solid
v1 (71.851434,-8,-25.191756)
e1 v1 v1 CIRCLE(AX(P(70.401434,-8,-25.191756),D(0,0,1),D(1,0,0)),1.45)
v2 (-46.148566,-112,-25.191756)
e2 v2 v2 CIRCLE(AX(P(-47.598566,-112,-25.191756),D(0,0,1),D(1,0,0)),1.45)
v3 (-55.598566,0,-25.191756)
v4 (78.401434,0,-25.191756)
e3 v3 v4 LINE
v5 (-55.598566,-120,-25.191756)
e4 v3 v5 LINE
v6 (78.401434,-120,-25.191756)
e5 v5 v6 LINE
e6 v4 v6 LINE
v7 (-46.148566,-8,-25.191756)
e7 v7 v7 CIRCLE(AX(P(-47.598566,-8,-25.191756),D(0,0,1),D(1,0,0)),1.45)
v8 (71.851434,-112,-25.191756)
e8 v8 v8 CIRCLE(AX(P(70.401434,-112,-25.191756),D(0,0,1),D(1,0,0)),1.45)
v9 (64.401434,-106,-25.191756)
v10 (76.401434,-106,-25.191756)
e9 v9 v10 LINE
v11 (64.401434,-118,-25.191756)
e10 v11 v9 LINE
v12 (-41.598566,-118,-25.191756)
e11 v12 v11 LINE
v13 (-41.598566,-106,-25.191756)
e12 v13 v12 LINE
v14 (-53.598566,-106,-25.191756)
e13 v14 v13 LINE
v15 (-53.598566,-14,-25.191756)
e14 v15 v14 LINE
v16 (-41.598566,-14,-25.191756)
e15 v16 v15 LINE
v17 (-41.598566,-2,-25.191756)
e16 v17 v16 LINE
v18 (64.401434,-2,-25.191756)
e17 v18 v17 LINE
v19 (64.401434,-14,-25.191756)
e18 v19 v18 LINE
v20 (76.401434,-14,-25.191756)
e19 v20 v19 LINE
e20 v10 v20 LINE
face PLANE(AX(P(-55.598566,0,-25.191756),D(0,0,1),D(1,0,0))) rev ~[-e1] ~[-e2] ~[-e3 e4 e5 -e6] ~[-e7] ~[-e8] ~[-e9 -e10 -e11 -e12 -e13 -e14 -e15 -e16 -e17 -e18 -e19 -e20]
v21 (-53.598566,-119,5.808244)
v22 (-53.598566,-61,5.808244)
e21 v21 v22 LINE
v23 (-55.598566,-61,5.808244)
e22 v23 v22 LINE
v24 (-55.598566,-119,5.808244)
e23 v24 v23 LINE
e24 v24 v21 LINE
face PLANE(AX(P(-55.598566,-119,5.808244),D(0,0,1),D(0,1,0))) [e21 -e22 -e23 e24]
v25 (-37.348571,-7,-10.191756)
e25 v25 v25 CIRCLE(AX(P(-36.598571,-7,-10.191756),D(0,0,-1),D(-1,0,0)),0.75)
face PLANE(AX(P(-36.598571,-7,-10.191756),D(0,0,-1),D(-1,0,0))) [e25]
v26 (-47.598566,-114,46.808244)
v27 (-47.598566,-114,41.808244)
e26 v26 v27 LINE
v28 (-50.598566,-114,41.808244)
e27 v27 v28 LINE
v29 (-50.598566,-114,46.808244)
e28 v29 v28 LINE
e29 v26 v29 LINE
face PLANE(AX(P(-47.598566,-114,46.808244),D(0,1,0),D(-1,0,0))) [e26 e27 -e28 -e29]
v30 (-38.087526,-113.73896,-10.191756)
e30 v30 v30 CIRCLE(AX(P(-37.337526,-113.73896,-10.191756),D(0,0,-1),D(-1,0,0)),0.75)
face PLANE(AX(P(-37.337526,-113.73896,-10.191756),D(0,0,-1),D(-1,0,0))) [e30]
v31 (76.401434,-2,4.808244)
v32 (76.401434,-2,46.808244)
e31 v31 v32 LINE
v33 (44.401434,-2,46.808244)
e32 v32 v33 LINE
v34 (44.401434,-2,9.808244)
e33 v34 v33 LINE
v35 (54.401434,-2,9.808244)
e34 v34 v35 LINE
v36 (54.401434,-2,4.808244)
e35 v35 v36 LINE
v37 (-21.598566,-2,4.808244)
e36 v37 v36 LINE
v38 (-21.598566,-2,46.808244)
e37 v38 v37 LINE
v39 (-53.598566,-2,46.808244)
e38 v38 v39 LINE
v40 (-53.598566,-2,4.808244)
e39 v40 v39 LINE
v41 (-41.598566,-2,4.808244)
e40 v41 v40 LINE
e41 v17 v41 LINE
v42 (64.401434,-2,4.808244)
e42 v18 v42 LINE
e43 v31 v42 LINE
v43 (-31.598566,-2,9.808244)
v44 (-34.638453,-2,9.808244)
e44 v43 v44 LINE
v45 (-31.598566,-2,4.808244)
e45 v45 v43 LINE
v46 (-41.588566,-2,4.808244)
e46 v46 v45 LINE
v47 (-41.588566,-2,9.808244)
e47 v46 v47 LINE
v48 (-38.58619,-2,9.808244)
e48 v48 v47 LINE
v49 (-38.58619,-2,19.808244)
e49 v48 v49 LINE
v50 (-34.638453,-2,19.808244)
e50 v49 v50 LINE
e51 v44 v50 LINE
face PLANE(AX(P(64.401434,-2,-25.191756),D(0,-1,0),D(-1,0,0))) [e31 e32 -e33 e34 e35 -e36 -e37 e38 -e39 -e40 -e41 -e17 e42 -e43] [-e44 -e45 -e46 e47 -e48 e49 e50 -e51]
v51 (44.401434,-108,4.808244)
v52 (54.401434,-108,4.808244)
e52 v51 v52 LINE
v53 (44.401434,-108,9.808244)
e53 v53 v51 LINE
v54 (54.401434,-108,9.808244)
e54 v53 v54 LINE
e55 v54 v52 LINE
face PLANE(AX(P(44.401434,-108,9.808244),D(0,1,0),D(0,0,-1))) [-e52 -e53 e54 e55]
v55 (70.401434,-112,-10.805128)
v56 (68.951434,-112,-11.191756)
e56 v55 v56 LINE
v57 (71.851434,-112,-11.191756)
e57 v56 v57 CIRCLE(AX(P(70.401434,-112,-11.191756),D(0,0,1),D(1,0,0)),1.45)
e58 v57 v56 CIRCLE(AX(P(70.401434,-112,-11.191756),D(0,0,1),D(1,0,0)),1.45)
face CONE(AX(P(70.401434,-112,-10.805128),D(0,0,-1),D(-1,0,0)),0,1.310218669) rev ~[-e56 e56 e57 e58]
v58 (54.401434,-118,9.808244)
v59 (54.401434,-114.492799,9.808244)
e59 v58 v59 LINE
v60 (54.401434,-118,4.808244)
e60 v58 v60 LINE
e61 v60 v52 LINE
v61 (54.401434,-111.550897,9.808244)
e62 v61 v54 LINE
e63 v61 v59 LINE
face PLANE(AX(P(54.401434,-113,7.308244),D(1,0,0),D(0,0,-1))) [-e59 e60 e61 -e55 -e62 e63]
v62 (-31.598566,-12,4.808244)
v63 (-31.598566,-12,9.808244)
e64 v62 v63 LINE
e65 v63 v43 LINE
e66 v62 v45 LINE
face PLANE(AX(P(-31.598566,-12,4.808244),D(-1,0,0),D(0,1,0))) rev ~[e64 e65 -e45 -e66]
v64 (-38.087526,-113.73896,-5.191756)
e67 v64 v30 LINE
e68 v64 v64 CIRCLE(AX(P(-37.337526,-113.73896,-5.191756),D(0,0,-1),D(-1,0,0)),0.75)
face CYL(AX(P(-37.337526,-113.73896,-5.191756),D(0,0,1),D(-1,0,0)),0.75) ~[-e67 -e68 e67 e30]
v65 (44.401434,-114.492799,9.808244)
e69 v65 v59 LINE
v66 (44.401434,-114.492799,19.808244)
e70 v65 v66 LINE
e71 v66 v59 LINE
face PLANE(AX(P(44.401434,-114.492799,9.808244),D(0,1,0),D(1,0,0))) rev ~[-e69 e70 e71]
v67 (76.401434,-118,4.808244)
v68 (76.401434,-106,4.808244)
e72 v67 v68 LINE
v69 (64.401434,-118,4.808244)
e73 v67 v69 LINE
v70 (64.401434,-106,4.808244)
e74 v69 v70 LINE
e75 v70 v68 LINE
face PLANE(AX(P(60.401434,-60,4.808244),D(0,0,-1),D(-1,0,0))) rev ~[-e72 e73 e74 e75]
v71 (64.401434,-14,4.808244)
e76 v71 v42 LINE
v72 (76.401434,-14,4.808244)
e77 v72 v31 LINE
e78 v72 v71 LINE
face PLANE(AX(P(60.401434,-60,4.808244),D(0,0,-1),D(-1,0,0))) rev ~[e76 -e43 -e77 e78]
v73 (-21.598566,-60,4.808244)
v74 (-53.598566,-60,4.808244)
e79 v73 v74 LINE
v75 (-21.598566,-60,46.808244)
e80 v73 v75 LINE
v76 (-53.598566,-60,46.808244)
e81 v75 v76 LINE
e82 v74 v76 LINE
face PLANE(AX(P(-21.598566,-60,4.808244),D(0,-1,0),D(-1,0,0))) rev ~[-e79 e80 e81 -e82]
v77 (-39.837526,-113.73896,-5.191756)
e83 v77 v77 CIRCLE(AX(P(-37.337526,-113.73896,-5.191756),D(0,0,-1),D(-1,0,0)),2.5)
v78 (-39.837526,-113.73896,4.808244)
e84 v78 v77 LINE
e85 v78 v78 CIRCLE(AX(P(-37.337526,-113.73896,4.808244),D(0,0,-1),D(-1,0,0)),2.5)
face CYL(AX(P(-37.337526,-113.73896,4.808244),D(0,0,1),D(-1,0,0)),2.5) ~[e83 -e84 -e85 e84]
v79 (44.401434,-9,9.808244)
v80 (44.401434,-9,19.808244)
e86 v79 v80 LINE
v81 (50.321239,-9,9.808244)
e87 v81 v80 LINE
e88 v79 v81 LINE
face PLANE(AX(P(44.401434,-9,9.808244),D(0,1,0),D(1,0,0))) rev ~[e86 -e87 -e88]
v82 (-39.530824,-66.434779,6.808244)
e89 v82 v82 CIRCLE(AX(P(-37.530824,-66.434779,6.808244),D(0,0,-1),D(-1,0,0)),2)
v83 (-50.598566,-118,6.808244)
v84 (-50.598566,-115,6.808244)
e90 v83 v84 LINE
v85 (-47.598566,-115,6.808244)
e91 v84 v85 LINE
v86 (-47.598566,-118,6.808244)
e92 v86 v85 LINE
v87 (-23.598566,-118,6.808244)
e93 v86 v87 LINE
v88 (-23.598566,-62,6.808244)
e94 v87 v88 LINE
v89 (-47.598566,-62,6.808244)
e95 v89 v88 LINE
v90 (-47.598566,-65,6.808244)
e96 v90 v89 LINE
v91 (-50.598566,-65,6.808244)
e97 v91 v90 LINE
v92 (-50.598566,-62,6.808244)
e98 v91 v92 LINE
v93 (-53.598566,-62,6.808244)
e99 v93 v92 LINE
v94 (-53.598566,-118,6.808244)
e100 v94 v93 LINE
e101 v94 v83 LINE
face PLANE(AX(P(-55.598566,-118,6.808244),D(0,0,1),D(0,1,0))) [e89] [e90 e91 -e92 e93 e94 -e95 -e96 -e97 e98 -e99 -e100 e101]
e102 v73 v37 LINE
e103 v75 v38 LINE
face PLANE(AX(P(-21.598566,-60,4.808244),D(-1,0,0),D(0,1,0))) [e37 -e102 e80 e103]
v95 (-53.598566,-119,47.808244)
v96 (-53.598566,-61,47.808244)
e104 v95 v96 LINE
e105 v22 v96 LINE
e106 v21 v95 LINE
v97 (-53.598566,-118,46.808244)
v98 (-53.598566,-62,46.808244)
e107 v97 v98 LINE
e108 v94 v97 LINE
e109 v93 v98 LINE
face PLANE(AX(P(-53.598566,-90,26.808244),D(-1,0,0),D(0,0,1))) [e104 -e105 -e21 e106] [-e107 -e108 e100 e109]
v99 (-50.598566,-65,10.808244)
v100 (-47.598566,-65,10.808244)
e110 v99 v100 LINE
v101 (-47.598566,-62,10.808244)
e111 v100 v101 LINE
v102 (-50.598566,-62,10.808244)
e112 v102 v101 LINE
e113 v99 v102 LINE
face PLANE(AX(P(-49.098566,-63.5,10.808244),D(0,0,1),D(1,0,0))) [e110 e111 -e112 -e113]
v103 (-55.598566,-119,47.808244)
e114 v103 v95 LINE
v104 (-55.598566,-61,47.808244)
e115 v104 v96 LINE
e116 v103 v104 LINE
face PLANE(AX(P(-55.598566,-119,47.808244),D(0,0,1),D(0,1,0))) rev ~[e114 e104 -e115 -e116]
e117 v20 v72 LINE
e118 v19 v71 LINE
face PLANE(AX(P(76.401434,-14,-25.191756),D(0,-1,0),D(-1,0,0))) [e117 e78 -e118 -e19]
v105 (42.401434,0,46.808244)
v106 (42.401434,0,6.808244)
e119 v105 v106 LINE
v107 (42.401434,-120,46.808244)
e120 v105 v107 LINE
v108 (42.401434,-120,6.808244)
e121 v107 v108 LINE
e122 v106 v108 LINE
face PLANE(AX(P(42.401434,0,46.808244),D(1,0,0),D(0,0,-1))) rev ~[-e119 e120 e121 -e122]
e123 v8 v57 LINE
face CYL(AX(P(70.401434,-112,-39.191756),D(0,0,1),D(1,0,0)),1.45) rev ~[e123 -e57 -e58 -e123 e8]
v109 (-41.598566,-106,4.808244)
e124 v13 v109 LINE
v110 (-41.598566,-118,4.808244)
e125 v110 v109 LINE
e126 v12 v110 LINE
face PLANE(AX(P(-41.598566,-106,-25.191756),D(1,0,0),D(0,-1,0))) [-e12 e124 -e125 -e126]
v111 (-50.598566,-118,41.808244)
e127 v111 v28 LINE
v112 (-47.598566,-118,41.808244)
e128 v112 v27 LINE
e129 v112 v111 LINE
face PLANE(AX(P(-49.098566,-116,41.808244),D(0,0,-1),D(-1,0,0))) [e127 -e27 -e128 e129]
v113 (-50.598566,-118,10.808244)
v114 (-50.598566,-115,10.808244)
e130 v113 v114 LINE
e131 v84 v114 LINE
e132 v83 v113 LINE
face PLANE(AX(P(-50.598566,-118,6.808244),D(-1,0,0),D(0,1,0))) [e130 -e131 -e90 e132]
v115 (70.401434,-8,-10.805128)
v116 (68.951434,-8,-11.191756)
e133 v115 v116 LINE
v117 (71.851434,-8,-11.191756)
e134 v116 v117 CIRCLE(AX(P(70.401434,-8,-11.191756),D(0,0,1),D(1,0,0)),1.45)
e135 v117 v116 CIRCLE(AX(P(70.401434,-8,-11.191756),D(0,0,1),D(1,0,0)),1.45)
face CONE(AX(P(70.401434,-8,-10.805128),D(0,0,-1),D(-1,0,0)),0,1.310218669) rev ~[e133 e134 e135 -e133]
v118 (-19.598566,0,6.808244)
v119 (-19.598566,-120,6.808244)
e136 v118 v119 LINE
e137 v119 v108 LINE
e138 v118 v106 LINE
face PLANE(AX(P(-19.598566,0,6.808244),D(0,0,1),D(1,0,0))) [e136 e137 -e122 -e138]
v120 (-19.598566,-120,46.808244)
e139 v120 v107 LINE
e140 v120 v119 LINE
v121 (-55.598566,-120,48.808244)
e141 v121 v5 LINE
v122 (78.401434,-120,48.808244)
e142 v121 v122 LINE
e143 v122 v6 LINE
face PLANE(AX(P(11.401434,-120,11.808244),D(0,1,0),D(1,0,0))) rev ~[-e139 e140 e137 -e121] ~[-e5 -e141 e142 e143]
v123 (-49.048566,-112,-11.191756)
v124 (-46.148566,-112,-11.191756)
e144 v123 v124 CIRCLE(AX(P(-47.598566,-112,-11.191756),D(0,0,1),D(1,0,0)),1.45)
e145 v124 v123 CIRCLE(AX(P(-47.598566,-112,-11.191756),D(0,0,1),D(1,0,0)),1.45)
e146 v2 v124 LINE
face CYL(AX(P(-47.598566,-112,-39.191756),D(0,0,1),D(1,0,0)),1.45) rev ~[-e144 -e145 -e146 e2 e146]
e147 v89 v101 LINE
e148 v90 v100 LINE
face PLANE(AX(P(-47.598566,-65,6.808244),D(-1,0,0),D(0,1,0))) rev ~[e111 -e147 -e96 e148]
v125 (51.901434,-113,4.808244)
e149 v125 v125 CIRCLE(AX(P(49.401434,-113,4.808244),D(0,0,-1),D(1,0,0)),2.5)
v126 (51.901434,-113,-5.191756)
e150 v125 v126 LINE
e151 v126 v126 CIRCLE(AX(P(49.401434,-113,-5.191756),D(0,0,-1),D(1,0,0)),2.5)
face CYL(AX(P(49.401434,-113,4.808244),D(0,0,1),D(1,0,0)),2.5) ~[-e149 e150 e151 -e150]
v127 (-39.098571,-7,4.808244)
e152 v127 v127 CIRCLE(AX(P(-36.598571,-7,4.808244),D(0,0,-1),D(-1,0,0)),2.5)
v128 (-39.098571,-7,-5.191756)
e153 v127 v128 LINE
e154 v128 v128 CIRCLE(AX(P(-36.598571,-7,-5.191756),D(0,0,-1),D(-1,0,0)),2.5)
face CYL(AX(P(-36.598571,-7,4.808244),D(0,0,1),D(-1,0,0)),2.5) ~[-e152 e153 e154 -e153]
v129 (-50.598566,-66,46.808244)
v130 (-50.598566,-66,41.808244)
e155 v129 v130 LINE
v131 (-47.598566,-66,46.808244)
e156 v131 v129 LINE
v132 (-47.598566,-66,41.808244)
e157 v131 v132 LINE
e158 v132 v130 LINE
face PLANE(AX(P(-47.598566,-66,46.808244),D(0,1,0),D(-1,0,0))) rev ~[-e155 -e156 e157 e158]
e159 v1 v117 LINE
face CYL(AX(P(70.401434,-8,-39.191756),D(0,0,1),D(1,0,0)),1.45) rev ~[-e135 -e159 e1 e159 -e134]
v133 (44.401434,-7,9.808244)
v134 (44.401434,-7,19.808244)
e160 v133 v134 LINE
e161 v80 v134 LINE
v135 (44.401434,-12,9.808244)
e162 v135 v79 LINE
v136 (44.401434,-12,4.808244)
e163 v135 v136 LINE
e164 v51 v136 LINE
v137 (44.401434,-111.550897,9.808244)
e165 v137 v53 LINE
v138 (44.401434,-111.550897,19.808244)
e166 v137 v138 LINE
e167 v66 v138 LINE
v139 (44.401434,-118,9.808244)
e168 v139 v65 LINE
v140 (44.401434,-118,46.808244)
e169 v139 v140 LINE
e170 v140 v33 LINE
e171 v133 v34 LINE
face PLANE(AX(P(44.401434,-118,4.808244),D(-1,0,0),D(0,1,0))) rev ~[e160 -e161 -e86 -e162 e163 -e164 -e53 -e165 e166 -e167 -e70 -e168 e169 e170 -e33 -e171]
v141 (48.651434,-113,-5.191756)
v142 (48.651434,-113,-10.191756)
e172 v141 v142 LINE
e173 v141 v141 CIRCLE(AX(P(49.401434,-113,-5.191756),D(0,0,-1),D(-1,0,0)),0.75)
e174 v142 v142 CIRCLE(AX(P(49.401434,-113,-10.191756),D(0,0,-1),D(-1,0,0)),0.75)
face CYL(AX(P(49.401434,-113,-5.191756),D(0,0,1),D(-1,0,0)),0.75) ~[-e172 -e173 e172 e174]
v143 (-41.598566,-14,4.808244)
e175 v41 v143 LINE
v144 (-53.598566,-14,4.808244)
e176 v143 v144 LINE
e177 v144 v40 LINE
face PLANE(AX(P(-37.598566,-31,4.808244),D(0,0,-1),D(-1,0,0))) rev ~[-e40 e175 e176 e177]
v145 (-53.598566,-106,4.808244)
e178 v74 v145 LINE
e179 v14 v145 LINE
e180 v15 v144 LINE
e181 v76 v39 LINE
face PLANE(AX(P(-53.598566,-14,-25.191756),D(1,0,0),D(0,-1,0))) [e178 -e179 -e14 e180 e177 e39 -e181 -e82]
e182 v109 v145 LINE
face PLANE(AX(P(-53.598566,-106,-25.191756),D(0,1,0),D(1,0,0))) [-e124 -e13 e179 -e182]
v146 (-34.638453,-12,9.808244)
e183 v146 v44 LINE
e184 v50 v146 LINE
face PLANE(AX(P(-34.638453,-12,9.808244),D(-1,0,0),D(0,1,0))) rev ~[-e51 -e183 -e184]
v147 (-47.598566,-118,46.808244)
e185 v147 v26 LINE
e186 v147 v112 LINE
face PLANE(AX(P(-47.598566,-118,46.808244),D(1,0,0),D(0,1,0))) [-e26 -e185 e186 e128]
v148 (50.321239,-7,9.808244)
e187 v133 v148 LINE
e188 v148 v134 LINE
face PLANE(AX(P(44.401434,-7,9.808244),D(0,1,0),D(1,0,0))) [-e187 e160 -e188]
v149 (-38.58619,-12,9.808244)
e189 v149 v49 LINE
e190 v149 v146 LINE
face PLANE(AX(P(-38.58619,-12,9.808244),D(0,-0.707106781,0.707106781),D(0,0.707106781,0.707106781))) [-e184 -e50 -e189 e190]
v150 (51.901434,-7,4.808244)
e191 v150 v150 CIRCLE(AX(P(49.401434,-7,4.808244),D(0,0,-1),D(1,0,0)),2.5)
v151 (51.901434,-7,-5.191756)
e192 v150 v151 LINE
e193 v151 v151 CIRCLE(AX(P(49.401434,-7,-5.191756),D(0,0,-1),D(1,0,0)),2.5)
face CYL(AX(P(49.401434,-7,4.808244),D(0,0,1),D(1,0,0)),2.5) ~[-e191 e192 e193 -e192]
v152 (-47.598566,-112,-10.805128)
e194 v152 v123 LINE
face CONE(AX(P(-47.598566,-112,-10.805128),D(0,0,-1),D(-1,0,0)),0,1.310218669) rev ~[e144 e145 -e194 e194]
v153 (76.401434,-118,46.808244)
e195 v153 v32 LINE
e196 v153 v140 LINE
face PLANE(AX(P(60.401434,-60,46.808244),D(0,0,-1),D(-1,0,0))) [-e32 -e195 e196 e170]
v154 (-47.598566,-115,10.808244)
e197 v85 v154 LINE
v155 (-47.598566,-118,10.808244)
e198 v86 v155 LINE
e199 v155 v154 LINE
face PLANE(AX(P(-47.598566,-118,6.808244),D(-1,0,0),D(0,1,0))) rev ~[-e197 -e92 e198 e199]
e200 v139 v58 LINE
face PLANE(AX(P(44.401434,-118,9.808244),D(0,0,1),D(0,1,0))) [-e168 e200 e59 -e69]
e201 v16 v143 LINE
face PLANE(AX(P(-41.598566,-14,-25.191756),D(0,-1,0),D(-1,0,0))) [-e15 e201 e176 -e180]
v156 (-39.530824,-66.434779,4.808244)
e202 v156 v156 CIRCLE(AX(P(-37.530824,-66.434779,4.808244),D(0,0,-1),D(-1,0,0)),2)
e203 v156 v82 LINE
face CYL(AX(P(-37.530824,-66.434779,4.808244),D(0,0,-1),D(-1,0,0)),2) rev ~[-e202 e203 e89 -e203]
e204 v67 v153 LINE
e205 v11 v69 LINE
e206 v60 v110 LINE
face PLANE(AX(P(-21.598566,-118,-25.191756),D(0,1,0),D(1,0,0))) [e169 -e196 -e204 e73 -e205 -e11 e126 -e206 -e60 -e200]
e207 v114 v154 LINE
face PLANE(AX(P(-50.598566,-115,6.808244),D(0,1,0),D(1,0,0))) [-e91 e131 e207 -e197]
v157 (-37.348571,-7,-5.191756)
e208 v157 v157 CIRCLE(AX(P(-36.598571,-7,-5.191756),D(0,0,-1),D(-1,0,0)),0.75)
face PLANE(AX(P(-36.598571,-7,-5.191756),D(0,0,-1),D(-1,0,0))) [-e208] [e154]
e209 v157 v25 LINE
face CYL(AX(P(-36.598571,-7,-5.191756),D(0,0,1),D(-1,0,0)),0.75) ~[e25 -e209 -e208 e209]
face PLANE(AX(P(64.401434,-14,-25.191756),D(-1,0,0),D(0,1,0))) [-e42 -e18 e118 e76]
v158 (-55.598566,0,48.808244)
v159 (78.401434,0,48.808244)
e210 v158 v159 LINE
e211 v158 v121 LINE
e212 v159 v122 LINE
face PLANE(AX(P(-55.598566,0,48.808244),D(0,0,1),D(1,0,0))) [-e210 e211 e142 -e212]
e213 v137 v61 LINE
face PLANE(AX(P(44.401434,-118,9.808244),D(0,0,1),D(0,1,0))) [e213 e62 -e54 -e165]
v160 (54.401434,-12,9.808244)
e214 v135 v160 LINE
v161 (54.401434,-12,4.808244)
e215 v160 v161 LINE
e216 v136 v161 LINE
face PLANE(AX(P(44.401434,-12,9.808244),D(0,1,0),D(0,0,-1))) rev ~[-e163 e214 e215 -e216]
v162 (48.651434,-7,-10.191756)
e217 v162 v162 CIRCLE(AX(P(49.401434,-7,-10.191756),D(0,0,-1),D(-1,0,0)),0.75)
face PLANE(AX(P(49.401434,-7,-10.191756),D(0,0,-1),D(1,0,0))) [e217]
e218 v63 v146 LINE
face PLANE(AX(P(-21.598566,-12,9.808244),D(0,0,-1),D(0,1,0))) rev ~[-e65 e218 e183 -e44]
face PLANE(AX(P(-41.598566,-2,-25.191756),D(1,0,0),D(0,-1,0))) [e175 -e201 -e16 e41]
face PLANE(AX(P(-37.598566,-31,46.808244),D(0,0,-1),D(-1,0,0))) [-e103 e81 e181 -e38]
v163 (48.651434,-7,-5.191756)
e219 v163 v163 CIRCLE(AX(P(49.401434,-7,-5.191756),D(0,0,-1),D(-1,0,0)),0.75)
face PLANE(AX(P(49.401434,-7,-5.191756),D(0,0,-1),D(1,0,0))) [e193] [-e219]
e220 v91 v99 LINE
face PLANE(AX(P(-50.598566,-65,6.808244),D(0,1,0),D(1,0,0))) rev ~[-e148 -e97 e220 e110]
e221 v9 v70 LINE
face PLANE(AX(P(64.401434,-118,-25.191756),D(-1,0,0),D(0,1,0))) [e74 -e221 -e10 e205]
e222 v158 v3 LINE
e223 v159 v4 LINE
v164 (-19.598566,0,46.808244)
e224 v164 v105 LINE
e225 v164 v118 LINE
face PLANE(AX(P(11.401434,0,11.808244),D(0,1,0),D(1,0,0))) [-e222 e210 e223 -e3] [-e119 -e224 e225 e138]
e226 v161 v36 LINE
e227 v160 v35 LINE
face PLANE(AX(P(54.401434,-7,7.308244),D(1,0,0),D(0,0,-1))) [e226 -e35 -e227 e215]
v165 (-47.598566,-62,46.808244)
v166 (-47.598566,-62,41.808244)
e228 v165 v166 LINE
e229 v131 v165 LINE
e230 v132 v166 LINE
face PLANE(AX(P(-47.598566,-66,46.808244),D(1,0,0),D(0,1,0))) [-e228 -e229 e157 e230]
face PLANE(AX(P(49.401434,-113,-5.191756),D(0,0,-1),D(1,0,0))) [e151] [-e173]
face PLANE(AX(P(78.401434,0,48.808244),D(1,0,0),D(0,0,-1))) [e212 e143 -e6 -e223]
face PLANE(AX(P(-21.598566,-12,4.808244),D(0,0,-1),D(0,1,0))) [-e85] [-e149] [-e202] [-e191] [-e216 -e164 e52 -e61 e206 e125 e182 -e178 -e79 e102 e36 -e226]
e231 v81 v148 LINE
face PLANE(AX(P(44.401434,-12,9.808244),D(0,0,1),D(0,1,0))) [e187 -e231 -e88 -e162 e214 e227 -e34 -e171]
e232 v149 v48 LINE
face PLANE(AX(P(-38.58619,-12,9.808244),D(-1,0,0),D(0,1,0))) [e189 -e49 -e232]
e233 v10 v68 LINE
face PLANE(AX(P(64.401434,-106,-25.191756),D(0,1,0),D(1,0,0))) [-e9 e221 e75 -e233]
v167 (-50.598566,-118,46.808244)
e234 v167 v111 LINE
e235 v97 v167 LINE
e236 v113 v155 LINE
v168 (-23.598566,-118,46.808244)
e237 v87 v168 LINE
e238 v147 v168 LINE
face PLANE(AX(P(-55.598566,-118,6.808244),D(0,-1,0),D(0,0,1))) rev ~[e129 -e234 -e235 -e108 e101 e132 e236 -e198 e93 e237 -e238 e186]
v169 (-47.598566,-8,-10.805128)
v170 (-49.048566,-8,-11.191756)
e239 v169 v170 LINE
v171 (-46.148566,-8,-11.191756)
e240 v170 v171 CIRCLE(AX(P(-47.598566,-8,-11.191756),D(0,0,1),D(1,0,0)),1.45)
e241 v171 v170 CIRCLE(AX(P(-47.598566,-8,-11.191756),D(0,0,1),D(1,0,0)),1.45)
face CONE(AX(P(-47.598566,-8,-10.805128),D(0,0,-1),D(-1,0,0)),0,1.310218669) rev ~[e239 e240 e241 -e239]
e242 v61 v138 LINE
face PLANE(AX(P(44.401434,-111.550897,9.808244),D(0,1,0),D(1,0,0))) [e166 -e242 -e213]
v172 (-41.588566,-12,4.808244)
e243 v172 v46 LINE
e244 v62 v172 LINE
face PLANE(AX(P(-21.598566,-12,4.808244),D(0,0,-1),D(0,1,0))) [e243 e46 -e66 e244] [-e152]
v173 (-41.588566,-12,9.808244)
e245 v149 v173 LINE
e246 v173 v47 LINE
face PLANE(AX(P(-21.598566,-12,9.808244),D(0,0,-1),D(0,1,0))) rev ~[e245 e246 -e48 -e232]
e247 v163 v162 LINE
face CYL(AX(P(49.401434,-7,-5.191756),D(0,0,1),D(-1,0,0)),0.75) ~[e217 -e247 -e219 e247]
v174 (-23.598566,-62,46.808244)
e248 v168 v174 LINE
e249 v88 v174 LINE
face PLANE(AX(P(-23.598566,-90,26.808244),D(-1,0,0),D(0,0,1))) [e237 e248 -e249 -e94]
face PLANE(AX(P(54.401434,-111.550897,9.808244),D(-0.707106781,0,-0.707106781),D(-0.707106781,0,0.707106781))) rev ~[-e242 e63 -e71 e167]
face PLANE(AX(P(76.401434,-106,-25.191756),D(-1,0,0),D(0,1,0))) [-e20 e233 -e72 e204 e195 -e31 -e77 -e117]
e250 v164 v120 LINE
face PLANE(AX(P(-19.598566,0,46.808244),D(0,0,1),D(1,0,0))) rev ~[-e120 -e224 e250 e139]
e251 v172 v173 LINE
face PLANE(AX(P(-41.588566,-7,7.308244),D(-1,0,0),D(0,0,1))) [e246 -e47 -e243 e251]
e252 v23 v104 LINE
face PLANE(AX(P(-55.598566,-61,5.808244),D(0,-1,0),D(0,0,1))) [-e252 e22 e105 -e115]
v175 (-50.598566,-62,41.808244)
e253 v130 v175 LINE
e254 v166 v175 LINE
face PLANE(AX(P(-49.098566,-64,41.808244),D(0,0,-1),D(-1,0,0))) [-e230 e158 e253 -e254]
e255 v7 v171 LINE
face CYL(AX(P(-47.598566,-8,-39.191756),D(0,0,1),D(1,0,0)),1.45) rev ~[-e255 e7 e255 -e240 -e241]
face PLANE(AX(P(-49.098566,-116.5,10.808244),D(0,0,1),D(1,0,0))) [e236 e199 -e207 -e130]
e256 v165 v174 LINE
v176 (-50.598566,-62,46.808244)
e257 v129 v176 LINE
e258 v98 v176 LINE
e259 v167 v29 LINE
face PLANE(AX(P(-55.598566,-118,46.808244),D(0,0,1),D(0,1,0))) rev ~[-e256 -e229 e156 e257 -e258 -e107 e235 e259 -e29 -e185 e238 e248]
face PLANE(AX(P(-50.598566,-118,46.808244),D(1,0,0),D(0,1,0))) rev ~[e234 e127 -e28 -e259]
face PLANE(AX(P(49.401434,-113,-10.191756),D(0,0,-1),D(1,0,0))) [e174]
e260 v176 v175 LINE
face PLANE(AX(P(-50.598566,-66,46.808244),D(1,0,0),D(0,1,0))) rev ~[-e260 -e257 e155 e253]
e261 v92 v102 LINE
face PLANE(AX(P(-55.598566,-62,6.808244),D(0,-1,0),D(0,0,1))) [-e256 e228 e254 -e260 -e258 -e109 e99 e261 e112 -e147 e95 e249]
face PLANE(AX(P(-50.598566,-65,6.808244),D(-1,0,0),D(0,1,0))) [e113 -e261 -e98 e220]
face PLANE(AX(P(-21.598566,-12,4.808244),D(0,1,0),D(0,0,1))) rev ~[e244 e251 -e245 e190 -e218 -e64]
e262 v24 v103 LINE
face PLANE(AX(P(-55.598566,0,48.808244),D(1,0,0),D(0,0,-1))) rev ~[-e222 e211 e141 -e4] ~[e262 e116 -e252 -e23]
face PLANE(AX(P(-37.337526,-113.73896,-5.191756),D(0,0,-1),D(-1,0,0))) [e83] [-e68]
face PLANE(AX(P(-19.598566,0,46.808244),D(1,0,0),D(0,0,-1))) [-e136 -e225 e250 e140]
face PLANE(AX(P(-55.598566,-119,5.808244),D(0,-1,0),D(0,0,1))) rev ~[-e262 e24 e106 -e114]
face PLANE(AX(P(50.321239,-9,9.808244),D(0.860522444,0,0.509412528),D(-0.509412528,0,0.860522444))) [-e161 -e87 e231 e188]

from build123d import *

# Parameters (mm, degrees)
SKETCH1_W                      = 134
SKETCH1_H                      = 74
SKETCH1_W_2                    = 62
SKETCH1_H_2                    = 40
BOSS_EXTRUDE1_DEPTH            = 120
CUT_EXTRUDE1_DEPTH             = 30
SKETCH4_W                      = 32
SKETCH4_H                      = 58
CUT_EXTRUDE2_DEPTH             = 42
SKETCH5_W                      = 32
SKETCH5_H                      = 116
CUT_EXTRUDE3_DEPTH             = 42
M2_5_CLEARANCE_HOLE1_D         = 2.9
M2_5_CLEARANCE_HOLE1_DEPTH     = 14
M2_5_CLEARANCE_HOLE1_TIP       = 0.386628252
SKETCH9_W                      = 40
SKETCH9_H                      = 56
CUT_EXTRUDE9_DEPTH             = 32
CUT_EXTRUDE5_DEPTH             = 20
CUT_EXTRUDE6_DEPTH             = 10
SKETCH12_W                     = 5
SKETCH12_H                     = 10
BOSS_EXTRUDE2_DEPTH            = 10
SKETCH13_R                     = 2.5
BOSS_EXTRUDE4_DEPTH            = 15
SKETCH14_W                     = 5
SKETCH14_H                     = 10
BOSS_EXTRUDE3_DEPTH            = 19.99
SKETCH17_W                     = 10
SKETCH17_H                     = 10
CUT_EXTRUDE10_DEPTH            = 5
SKETCH18_R                     = 2.5
BOSS_EXTRUDE5_DEPTH            = 15
CUT_EXTRUDE11_START            = -5
SKETCH19_R                     = 2.5
SKETCH19_R_2                   = 0.75
CUT_EXTRUDE11_DEPTH            = 5
SKETCH24_W                     = 5.919805253
SKETCH24_H                     = 2
BOSS_EXTRUDE6_DEPTH            = 10
CUT_EXTRUDE14_REACH            = 146.395
SKETCH26_W                     = 10
SKETCH26_H                     = 2.941902197
BOSS_EXTRUDE7_DEPTH            = 10
CUT_EXTRUDE15_REACH            = 146.819
SKETCH30_W                     = 3.947736589
SKETCH30_H                     = 10
BOSS_EXTRUDE8_DEPTH            = 10
CUT_EXTRUDE18_REACH            = 176.552
SKETCH33_W                     = 42
SKETCH33_H                     = 58
SKETCH33_W_2                   = 40
SKETCH33_H_2                   = 56
CUT_EXTRUDE20_DEPTH            = 2
CUT_EXTRUDE21_REACH            = 151.943
SKETCH34_R                     = 2
SKETCH36_W                     = 3
SKETCH36_H                     = 4
SUPORTE_DA_TAMPA_PILHA_DEPTH   = 5
SKETCH37_W                     = 3
SKETCH37_H                     = 3
SUPORTE_DA_TAMPA_2_PILHA_DEPTH = 4


with BuildPart() as part:
    # Sketch1 → Boss-Extrude1 (new body)
    with BuildSketch(Plane(origin=(0, 0, 0), x_dir=(1, 0, 0), z_dir=(0, 1, 0))):
        with Locations((11.401433692, -11.808243728)):
            Rectangle(SKETCH1_W, SKETCH1_H)
        with Locations((11.401433692, -26.808243728)):
            Rectangle(SKETCH1_W_2, SKETCH1_H_2, mode=Mode.SUBTRACT)
    extrude(amount=-BOSS_EXTRUDE1_DEPTH)

    # Sketch2 → Cut-Extrude1 (cut)
    with BuildSketch(Plane(origin=(0, 0, -25.191756272), x_dir=(-1, 0, 0), z_dir=(0, 0, -1))):
        Polygon((21.598566308, -118), (-64.401433692, -118), (-64.401433692, -106), (-76.401433692, -106), (-76.401433692, -14), (-64.401433692, -14), (-64.401433692, -2), (41.598566308, -2), (41.598566308, -14), (53.598566308, -14), (53.598566308, -88), (21.598566308, -88), align=None)
    extrude(amount=-CUT_EXTRUDE1_DEPTH, mode=Mode.SUBTRACT)

    # Sketch4 → Cut-Extrude2 (cut)
    with BuildSketch(Plane(origin=(0, 0, 4.808243728), x_dir=(-1, 0, 0), z_dir=(0, 0, -1))):
        with Locations((37.598566308, -31)):
            Rectangle(SKETCH4_W, SKETCH4_H)
    extrude(amount=-CUT_EXTRUDE2_DEPTH, mode=Mode.SUBTRACT)

    # Sketch5 → Cut-Extrude3 (cut)
    with BuildSketch(Plane(origin=(0, 0, 4.808243728), x_dir=(-1, 0, 0), z_dir=(0, 0, -1))):
        with Locations((-60.401433692, -60)):
            Rectangle(SKETCH5_W, SKETCH5_H)
    extrude(amount=-CUT_EXTRUDE3_DEPTH, mode=Mode.SUBTRACT)

    # M2.5 Clearance Hole1
    with Locations(Plane(origin=(0, 0, -25.191756272), x_dir=(-1, 0, 0), z_dir=(0, 0, -1))):
        with Locations((-70.401433692, -8), (47.598566308, -8), (47.598566308, -112), (-70.401433692, -112)):
            Hole(M2_5_CLEARANCE_HOLE1_D / 2, depth=M2_5_CLEARANCE_HOLE1_DEPTH)
            with Locations((0, 0, -(M2_5_CLEARANCE_HOLE1_DEPTH + M2_5_CLEARANCE_HOLE1_TIP / 2))):  # 150.14° drill point
                Cone(0, M2_5_CLEARANCE_HOLE1_D / 2, M2_5_CLEARANCE_HOLE1_TIP, mode=Mode.SUBTRACT)

    # Sketch9 → Cut-Extrude9 (cut)
    with BuildSketch(Plane.ZY.offset(55.598566308)):
        with Locations((26.808243728, -90)):
            Rectangle(SKETCH9_W, SKETCH9_H)
    extrude(amount=-CUT_EXTRUDE9_DEPTH, mode=Mode.SUBTRACT)

    # Sketch10 → Cut-Extrude5 (cut)
    with BuildSketch(Plane(origin=(0, 0, -25.191756272), x_dir=(-1, 0, 0), z_dir=(0, 0, -1))):
        Polygon((21.598566308, -88), (53.598566308, -88), (53.598566308, -106), (41.598566308, -106), (41.598566308, -118), (21.598566308, -118), align=None)
    extrude(amount=-CUT_EXTRUDE5_DEPTH, mode=Mode.SUBTRACT)

    # Sketch11 → Cut-Extrude6 (cut)
    with BuildSketch(Plane(origin=(0, 0, -5.191756272), x_dir=(-1, 0, 0), z_dir=(0, 0, -1))):
        Polygon((53.598566308, -88), (21.598566308, -88), (21.598566308, -118), (41.598566308, -118), (41.598566308, -106), (53.598566308, -106), align=None)
    extrude(amount=-CUT_EXTRUDE6_DEPTH, mode=Mode.SUBTRACT)

    # Sketch12 → Boss-Extrude2 (add)
    with BuildSketch(Plane(origin=(44.401433692, 0, 0), x_dir=(0, 0, -1), z_dir=(1, 0, 0))):
        with Locations((-7.308243728, -7)):
            Rectangle(SKETCH12_W, SKETCH12_H)
        with Locations((-7.308243728, -113)):
            Rectangle(SKETCH12_W, SKETCH12_H)
    extrude(amount=BOSS_EXTRUDE2_DEPTH)

    # Sketch13 → Boss-Extrude4 (add)
    with BuildSketch(Plane(origin=(0, 0, 4.808243728), x_dir=(-1, 0, 0), z_dir=(0, 0, -1))):
        with Locations(Location((-49.401433692, -7, 0), (0, 0, 180))):
            Circle(SKETCH13_R)
        with Locations(Location((-49.401433692, -113, 0), (0, 0, 180))):
            Circle(SKETCH13_R)
    extrude(amount=BOSS_EXTRUDE4_DEPTH)

    # Sketch14 → Boss-Extrude3 (add)
    with BuildSketch(Plane.ZY.offset(21.598566308)):
        with Locations((7.308243728, -7)):
            Rectangle(SKETCH14_W, SKETCH14_H)
    extrude(amount=BOSS_EXTRUDE3_DEPTH)

    # Sketch17 → Cut-Extrude10 (cut)
    with BuildSketch(Plane(origin=(0, 0, 4.808243728), x_dir=(-1, 0, 0), z_dir=(0, 0, -1))):
        with Locations((26.598566308, -7)):
            Rectangle(SKETCH17_W, SKETCH17_H)
    extrude(amount=-CUT_EXTRUDE10_DEPTH, mode=Mode.SUBTRACT)

    # Sketch18 → Boss-Extrude5 (add)
    with BuildSketch(Plane(origin=(0, 0, 4.808243728), x_dir=(-1, 0, 0), z_dir=(0, 0, -1))):
        with Locations((36.598571318, -7)):
            Circle(SKETCH18_R)
        with Locations((37.337526325, -113.738960016)):
            Circle(SKETCH18_R)
    extrude(amount=BOSS_EXTRUDE5_DEPTH)

    # Sketch19 → Cut-Extrude11 (cut)
    # profile 1 of 4: a face of its own
    with BuildSketch(Plane(origin=(0, 0, -10.191756272), x_dir=(-1, 0, 0), z_dir=(0, 0, -1)).offset(CUT_EXTRUDE11_START)):
        with Locations(Location((-49.401433692, -113, 0), (0, 0, 180))):
            Circle(SKETCH19_R)
        with Locations((-49.401433692, -113)):
            Circle(SKETCH19_R_2, mode=Mode.SUBTRACT)
    # profile 2 of 4: a face of its own
    with BuildSketch(Plane(origin=(0, 0, -10.191756272), x_dir=(-1, 0, 0), z_dir=(0, 0, -1)).offset(CUT_EXTRUDE11_START)):
        with Locations(Location((-49.401433692, -7, 0), (0, 0, 180))):
            Circle(SKETCH19_R)
        with Locations((-49.401433692, -7)):
            Circle(SKETCH19_R_2, mode=Mode.SUBTRACT)
    # profile 3 of 4: a face of its own
    with BuildSketch(Plane(origin=(0, 0, -10.191756272), x_dir=(-1, 0, 0), z_dir=(0, 0, -1)).offset(CUT_EXTRUDE11_START)):
        with Locations((36.598571318, -7)):
            Circle(SKETCH19_R)
        with Locations((36.598571318, -7)):
            Circle(SKETCH19_R_2, mode=Mode.SUBTRACT)
    # profile 4 of 4: a face of its own
    with BuildSketch(Plane(origin=(0, 0, -10.191756272), x_dir=(-1, 0, 0), z_dir=(0, 0, -1)).offset(CUT_EXTRUDE11_START)):
        with Locations((37.337526325, -113.738960016)):
            Circle(SKETCH19_R)
        with Locations((37.337526325, -113.738960016)):
            Circle(SKETCH19_R_2, mode=Mode.SUBTRACT)
    extrude(amount=CUT_EXTRUDE11_DEPTH, mode=Mode.SUBTRACT)

    # Sketch24 → Boss-Extrude6 (add)
    with BuildSketch(Plane.XY.offset(9.808243728)):
        with Locations((47.361336319, -8)):
            Rectangle(SKETCH24_W, SKETCH24_H)
    extrude(amount=BOSS_EXTRUDE6_DEPTH)

    # Sketch25 → Cut-Extrude14 (cut, up to next)
    with BuildSketch(Plane.XZ.offset(9), mode=Mode.PRIVATE) as cut_extrude14_sk1:
        Polygon((50.321238945, 9.808243728), (44.401433692, 19.808243728), (50.321238945, 19.808243728), align=None)
    cut_extrude14_tool1 = extrude(cut_extrude14_sk1.sketch, amount=-CUT_EXTRUDE14_REACH, mode=Mode.PRIVATE) & part.part
    add(cut_extrude14_tool1.solids().sort_by_distance((48.347971, -9, 16.47491))[0], mode=Mode.SUBTRACT)

    # Sketch26 → Boss-Extrude7 (add)
    with BuildSketch(Plane.XY.offset(9.808243728)):
        with Locations((49.401433692, -113.021848151)):
            Rectangle(SKETCH26_W, SKETCH26_H)
    extrude(amount=BOSS_EXTRUDE7_DEPTH)

    # Sketch27 → Cut-Extrude15 (cut, up to next)
    with BuildSketch(Plane(origin=(0, -111.550897052, 0), x_dir=(1, 0, 0), z_dir=(0, 1, 0)), mode=Mode.PRIVATE) as cut_extrude15_sk1:
        Polygon((54.401433692, -9.808243728), (44.401433692, -19.808243728), (54.401433692, -19.808243728), align=None)
    cut_extrude15_tool1 = extrude(cut_extrude15_sk1.sketch, amount=-CUT_EXTRUDE15_REACH, mode=Mode.PRIVATE) & part.part
    add(cut_extrude15_tool1.solids().sort_by_distance((51.0681, -111.550897, 16.47491))[0], mode=Mode.SUBTRACT)

    # Sketch30 → Boss-Extrude8 (add)
    with BuildSketch(Plane.XY.offset(9.808243728)):
        with Locations((-36.612321656, -7)):
            Rectangle(SKETCH30_W, SKETCH30_H)
    extrude(amount=BOSS_EXTRUDE8_DEPTH)

    # Sketch31 → Cut-Extrude18 (cut, up to next)
    with BuildSketch(Plane.ZY.offset(38.58618995), mode=Mode.PRIVATE) as cut_extrude18_sk1:
        Polygon((19.808243728, -2), (19.808243728, -12), (9.808243728, -12), align=None)
    cut_extrude18_tool1 = extrude(cut_extrude18_sk1.sketch, amount=-CUT_EXTRUDE18_REACH, mode=Mode.PRIVATE) & part.part
    add(cut_extrude18_tool1.solids().sort_by_distance((-38.58619, -8.666667, 16.47491))[0], mode=Mode.SUBTRACT)

    # Sketch33 → Cut-Extrude20 (cut)
    with BuildSketch(Plane.ZY.offset(55.598566308)):
        with Locations((26.808243728, -90)):
            Rectangle(SKETCH33_W, SKETCH33_H)
        with Locations((26.808243728, -90)):
            Rectangle(SKETCH33_W_2, SKETCH33_H_2, mode=Mode.SUBTRACT)
    extrude(amount=-CUT_EXTRUDE20_DEPTH, mode=Mode.SUBTRACT)

    # Sketch34 → Cut-Extrude21 (cut, up to next)
    with BuildSketch(Plane(origin=(0, 0, 4.808243728), x_dir=(-1, 0, 0), z_dir=(0, 0, -1)), mode=Mode.PRIVATE) as cut_extrude21_sk1:
        with Locations((37.530823831, -66.434778505)):
            Circle(SKETCH34_R)
    cut_extrude21_tool1 = extrude(cut_extrude21_sk1.sketch, amount=-CUT_EXTRUDE21_REACH, mode=Mode.PRIVATE) & part.part
    add(cut_extrude21_tool1.solids().sort_by_distance((-37.530824, -66.434779, 4.808244))[0], mode=Mode.SUBTRACT)

    # Sketch36 → Suporte da Tampa - Pilha (add)
    with BuildSketch(Plane(origin=(0, 0, 46.808243728), x_dir=(-1, 0, 0), z_dir=(0, 0, -1))):
        with Locations((49.098566308, -116)):
            Rectangle(SKETCH36_W, SKETCH36_H)
        with Locations((49.098566308, -64)):
            Rectangle(SKETCH36_W, SKETCH36_H)
    extrude(amount=SUPORTE_DA_TAMPA_PILHA_DEPTH)

    # Sketch37 → Suporte da Tampa 2 - Pilha (add)
    with BuildSketch(Plane.XY.offset(6.808243728)):
        with Locations((-49.098566308, -116.5)):
            Rectangle(SKETCH37_W, SKETCH37_H)
        with Locations((-49.098566308, -63.5)):
            Rectangle(SKETCH37_W, SKETCH37_H)
    extrude(amount=SUPORTE_DA_TAMPA_2_PILHA_DEPTH)


solid = part.part
